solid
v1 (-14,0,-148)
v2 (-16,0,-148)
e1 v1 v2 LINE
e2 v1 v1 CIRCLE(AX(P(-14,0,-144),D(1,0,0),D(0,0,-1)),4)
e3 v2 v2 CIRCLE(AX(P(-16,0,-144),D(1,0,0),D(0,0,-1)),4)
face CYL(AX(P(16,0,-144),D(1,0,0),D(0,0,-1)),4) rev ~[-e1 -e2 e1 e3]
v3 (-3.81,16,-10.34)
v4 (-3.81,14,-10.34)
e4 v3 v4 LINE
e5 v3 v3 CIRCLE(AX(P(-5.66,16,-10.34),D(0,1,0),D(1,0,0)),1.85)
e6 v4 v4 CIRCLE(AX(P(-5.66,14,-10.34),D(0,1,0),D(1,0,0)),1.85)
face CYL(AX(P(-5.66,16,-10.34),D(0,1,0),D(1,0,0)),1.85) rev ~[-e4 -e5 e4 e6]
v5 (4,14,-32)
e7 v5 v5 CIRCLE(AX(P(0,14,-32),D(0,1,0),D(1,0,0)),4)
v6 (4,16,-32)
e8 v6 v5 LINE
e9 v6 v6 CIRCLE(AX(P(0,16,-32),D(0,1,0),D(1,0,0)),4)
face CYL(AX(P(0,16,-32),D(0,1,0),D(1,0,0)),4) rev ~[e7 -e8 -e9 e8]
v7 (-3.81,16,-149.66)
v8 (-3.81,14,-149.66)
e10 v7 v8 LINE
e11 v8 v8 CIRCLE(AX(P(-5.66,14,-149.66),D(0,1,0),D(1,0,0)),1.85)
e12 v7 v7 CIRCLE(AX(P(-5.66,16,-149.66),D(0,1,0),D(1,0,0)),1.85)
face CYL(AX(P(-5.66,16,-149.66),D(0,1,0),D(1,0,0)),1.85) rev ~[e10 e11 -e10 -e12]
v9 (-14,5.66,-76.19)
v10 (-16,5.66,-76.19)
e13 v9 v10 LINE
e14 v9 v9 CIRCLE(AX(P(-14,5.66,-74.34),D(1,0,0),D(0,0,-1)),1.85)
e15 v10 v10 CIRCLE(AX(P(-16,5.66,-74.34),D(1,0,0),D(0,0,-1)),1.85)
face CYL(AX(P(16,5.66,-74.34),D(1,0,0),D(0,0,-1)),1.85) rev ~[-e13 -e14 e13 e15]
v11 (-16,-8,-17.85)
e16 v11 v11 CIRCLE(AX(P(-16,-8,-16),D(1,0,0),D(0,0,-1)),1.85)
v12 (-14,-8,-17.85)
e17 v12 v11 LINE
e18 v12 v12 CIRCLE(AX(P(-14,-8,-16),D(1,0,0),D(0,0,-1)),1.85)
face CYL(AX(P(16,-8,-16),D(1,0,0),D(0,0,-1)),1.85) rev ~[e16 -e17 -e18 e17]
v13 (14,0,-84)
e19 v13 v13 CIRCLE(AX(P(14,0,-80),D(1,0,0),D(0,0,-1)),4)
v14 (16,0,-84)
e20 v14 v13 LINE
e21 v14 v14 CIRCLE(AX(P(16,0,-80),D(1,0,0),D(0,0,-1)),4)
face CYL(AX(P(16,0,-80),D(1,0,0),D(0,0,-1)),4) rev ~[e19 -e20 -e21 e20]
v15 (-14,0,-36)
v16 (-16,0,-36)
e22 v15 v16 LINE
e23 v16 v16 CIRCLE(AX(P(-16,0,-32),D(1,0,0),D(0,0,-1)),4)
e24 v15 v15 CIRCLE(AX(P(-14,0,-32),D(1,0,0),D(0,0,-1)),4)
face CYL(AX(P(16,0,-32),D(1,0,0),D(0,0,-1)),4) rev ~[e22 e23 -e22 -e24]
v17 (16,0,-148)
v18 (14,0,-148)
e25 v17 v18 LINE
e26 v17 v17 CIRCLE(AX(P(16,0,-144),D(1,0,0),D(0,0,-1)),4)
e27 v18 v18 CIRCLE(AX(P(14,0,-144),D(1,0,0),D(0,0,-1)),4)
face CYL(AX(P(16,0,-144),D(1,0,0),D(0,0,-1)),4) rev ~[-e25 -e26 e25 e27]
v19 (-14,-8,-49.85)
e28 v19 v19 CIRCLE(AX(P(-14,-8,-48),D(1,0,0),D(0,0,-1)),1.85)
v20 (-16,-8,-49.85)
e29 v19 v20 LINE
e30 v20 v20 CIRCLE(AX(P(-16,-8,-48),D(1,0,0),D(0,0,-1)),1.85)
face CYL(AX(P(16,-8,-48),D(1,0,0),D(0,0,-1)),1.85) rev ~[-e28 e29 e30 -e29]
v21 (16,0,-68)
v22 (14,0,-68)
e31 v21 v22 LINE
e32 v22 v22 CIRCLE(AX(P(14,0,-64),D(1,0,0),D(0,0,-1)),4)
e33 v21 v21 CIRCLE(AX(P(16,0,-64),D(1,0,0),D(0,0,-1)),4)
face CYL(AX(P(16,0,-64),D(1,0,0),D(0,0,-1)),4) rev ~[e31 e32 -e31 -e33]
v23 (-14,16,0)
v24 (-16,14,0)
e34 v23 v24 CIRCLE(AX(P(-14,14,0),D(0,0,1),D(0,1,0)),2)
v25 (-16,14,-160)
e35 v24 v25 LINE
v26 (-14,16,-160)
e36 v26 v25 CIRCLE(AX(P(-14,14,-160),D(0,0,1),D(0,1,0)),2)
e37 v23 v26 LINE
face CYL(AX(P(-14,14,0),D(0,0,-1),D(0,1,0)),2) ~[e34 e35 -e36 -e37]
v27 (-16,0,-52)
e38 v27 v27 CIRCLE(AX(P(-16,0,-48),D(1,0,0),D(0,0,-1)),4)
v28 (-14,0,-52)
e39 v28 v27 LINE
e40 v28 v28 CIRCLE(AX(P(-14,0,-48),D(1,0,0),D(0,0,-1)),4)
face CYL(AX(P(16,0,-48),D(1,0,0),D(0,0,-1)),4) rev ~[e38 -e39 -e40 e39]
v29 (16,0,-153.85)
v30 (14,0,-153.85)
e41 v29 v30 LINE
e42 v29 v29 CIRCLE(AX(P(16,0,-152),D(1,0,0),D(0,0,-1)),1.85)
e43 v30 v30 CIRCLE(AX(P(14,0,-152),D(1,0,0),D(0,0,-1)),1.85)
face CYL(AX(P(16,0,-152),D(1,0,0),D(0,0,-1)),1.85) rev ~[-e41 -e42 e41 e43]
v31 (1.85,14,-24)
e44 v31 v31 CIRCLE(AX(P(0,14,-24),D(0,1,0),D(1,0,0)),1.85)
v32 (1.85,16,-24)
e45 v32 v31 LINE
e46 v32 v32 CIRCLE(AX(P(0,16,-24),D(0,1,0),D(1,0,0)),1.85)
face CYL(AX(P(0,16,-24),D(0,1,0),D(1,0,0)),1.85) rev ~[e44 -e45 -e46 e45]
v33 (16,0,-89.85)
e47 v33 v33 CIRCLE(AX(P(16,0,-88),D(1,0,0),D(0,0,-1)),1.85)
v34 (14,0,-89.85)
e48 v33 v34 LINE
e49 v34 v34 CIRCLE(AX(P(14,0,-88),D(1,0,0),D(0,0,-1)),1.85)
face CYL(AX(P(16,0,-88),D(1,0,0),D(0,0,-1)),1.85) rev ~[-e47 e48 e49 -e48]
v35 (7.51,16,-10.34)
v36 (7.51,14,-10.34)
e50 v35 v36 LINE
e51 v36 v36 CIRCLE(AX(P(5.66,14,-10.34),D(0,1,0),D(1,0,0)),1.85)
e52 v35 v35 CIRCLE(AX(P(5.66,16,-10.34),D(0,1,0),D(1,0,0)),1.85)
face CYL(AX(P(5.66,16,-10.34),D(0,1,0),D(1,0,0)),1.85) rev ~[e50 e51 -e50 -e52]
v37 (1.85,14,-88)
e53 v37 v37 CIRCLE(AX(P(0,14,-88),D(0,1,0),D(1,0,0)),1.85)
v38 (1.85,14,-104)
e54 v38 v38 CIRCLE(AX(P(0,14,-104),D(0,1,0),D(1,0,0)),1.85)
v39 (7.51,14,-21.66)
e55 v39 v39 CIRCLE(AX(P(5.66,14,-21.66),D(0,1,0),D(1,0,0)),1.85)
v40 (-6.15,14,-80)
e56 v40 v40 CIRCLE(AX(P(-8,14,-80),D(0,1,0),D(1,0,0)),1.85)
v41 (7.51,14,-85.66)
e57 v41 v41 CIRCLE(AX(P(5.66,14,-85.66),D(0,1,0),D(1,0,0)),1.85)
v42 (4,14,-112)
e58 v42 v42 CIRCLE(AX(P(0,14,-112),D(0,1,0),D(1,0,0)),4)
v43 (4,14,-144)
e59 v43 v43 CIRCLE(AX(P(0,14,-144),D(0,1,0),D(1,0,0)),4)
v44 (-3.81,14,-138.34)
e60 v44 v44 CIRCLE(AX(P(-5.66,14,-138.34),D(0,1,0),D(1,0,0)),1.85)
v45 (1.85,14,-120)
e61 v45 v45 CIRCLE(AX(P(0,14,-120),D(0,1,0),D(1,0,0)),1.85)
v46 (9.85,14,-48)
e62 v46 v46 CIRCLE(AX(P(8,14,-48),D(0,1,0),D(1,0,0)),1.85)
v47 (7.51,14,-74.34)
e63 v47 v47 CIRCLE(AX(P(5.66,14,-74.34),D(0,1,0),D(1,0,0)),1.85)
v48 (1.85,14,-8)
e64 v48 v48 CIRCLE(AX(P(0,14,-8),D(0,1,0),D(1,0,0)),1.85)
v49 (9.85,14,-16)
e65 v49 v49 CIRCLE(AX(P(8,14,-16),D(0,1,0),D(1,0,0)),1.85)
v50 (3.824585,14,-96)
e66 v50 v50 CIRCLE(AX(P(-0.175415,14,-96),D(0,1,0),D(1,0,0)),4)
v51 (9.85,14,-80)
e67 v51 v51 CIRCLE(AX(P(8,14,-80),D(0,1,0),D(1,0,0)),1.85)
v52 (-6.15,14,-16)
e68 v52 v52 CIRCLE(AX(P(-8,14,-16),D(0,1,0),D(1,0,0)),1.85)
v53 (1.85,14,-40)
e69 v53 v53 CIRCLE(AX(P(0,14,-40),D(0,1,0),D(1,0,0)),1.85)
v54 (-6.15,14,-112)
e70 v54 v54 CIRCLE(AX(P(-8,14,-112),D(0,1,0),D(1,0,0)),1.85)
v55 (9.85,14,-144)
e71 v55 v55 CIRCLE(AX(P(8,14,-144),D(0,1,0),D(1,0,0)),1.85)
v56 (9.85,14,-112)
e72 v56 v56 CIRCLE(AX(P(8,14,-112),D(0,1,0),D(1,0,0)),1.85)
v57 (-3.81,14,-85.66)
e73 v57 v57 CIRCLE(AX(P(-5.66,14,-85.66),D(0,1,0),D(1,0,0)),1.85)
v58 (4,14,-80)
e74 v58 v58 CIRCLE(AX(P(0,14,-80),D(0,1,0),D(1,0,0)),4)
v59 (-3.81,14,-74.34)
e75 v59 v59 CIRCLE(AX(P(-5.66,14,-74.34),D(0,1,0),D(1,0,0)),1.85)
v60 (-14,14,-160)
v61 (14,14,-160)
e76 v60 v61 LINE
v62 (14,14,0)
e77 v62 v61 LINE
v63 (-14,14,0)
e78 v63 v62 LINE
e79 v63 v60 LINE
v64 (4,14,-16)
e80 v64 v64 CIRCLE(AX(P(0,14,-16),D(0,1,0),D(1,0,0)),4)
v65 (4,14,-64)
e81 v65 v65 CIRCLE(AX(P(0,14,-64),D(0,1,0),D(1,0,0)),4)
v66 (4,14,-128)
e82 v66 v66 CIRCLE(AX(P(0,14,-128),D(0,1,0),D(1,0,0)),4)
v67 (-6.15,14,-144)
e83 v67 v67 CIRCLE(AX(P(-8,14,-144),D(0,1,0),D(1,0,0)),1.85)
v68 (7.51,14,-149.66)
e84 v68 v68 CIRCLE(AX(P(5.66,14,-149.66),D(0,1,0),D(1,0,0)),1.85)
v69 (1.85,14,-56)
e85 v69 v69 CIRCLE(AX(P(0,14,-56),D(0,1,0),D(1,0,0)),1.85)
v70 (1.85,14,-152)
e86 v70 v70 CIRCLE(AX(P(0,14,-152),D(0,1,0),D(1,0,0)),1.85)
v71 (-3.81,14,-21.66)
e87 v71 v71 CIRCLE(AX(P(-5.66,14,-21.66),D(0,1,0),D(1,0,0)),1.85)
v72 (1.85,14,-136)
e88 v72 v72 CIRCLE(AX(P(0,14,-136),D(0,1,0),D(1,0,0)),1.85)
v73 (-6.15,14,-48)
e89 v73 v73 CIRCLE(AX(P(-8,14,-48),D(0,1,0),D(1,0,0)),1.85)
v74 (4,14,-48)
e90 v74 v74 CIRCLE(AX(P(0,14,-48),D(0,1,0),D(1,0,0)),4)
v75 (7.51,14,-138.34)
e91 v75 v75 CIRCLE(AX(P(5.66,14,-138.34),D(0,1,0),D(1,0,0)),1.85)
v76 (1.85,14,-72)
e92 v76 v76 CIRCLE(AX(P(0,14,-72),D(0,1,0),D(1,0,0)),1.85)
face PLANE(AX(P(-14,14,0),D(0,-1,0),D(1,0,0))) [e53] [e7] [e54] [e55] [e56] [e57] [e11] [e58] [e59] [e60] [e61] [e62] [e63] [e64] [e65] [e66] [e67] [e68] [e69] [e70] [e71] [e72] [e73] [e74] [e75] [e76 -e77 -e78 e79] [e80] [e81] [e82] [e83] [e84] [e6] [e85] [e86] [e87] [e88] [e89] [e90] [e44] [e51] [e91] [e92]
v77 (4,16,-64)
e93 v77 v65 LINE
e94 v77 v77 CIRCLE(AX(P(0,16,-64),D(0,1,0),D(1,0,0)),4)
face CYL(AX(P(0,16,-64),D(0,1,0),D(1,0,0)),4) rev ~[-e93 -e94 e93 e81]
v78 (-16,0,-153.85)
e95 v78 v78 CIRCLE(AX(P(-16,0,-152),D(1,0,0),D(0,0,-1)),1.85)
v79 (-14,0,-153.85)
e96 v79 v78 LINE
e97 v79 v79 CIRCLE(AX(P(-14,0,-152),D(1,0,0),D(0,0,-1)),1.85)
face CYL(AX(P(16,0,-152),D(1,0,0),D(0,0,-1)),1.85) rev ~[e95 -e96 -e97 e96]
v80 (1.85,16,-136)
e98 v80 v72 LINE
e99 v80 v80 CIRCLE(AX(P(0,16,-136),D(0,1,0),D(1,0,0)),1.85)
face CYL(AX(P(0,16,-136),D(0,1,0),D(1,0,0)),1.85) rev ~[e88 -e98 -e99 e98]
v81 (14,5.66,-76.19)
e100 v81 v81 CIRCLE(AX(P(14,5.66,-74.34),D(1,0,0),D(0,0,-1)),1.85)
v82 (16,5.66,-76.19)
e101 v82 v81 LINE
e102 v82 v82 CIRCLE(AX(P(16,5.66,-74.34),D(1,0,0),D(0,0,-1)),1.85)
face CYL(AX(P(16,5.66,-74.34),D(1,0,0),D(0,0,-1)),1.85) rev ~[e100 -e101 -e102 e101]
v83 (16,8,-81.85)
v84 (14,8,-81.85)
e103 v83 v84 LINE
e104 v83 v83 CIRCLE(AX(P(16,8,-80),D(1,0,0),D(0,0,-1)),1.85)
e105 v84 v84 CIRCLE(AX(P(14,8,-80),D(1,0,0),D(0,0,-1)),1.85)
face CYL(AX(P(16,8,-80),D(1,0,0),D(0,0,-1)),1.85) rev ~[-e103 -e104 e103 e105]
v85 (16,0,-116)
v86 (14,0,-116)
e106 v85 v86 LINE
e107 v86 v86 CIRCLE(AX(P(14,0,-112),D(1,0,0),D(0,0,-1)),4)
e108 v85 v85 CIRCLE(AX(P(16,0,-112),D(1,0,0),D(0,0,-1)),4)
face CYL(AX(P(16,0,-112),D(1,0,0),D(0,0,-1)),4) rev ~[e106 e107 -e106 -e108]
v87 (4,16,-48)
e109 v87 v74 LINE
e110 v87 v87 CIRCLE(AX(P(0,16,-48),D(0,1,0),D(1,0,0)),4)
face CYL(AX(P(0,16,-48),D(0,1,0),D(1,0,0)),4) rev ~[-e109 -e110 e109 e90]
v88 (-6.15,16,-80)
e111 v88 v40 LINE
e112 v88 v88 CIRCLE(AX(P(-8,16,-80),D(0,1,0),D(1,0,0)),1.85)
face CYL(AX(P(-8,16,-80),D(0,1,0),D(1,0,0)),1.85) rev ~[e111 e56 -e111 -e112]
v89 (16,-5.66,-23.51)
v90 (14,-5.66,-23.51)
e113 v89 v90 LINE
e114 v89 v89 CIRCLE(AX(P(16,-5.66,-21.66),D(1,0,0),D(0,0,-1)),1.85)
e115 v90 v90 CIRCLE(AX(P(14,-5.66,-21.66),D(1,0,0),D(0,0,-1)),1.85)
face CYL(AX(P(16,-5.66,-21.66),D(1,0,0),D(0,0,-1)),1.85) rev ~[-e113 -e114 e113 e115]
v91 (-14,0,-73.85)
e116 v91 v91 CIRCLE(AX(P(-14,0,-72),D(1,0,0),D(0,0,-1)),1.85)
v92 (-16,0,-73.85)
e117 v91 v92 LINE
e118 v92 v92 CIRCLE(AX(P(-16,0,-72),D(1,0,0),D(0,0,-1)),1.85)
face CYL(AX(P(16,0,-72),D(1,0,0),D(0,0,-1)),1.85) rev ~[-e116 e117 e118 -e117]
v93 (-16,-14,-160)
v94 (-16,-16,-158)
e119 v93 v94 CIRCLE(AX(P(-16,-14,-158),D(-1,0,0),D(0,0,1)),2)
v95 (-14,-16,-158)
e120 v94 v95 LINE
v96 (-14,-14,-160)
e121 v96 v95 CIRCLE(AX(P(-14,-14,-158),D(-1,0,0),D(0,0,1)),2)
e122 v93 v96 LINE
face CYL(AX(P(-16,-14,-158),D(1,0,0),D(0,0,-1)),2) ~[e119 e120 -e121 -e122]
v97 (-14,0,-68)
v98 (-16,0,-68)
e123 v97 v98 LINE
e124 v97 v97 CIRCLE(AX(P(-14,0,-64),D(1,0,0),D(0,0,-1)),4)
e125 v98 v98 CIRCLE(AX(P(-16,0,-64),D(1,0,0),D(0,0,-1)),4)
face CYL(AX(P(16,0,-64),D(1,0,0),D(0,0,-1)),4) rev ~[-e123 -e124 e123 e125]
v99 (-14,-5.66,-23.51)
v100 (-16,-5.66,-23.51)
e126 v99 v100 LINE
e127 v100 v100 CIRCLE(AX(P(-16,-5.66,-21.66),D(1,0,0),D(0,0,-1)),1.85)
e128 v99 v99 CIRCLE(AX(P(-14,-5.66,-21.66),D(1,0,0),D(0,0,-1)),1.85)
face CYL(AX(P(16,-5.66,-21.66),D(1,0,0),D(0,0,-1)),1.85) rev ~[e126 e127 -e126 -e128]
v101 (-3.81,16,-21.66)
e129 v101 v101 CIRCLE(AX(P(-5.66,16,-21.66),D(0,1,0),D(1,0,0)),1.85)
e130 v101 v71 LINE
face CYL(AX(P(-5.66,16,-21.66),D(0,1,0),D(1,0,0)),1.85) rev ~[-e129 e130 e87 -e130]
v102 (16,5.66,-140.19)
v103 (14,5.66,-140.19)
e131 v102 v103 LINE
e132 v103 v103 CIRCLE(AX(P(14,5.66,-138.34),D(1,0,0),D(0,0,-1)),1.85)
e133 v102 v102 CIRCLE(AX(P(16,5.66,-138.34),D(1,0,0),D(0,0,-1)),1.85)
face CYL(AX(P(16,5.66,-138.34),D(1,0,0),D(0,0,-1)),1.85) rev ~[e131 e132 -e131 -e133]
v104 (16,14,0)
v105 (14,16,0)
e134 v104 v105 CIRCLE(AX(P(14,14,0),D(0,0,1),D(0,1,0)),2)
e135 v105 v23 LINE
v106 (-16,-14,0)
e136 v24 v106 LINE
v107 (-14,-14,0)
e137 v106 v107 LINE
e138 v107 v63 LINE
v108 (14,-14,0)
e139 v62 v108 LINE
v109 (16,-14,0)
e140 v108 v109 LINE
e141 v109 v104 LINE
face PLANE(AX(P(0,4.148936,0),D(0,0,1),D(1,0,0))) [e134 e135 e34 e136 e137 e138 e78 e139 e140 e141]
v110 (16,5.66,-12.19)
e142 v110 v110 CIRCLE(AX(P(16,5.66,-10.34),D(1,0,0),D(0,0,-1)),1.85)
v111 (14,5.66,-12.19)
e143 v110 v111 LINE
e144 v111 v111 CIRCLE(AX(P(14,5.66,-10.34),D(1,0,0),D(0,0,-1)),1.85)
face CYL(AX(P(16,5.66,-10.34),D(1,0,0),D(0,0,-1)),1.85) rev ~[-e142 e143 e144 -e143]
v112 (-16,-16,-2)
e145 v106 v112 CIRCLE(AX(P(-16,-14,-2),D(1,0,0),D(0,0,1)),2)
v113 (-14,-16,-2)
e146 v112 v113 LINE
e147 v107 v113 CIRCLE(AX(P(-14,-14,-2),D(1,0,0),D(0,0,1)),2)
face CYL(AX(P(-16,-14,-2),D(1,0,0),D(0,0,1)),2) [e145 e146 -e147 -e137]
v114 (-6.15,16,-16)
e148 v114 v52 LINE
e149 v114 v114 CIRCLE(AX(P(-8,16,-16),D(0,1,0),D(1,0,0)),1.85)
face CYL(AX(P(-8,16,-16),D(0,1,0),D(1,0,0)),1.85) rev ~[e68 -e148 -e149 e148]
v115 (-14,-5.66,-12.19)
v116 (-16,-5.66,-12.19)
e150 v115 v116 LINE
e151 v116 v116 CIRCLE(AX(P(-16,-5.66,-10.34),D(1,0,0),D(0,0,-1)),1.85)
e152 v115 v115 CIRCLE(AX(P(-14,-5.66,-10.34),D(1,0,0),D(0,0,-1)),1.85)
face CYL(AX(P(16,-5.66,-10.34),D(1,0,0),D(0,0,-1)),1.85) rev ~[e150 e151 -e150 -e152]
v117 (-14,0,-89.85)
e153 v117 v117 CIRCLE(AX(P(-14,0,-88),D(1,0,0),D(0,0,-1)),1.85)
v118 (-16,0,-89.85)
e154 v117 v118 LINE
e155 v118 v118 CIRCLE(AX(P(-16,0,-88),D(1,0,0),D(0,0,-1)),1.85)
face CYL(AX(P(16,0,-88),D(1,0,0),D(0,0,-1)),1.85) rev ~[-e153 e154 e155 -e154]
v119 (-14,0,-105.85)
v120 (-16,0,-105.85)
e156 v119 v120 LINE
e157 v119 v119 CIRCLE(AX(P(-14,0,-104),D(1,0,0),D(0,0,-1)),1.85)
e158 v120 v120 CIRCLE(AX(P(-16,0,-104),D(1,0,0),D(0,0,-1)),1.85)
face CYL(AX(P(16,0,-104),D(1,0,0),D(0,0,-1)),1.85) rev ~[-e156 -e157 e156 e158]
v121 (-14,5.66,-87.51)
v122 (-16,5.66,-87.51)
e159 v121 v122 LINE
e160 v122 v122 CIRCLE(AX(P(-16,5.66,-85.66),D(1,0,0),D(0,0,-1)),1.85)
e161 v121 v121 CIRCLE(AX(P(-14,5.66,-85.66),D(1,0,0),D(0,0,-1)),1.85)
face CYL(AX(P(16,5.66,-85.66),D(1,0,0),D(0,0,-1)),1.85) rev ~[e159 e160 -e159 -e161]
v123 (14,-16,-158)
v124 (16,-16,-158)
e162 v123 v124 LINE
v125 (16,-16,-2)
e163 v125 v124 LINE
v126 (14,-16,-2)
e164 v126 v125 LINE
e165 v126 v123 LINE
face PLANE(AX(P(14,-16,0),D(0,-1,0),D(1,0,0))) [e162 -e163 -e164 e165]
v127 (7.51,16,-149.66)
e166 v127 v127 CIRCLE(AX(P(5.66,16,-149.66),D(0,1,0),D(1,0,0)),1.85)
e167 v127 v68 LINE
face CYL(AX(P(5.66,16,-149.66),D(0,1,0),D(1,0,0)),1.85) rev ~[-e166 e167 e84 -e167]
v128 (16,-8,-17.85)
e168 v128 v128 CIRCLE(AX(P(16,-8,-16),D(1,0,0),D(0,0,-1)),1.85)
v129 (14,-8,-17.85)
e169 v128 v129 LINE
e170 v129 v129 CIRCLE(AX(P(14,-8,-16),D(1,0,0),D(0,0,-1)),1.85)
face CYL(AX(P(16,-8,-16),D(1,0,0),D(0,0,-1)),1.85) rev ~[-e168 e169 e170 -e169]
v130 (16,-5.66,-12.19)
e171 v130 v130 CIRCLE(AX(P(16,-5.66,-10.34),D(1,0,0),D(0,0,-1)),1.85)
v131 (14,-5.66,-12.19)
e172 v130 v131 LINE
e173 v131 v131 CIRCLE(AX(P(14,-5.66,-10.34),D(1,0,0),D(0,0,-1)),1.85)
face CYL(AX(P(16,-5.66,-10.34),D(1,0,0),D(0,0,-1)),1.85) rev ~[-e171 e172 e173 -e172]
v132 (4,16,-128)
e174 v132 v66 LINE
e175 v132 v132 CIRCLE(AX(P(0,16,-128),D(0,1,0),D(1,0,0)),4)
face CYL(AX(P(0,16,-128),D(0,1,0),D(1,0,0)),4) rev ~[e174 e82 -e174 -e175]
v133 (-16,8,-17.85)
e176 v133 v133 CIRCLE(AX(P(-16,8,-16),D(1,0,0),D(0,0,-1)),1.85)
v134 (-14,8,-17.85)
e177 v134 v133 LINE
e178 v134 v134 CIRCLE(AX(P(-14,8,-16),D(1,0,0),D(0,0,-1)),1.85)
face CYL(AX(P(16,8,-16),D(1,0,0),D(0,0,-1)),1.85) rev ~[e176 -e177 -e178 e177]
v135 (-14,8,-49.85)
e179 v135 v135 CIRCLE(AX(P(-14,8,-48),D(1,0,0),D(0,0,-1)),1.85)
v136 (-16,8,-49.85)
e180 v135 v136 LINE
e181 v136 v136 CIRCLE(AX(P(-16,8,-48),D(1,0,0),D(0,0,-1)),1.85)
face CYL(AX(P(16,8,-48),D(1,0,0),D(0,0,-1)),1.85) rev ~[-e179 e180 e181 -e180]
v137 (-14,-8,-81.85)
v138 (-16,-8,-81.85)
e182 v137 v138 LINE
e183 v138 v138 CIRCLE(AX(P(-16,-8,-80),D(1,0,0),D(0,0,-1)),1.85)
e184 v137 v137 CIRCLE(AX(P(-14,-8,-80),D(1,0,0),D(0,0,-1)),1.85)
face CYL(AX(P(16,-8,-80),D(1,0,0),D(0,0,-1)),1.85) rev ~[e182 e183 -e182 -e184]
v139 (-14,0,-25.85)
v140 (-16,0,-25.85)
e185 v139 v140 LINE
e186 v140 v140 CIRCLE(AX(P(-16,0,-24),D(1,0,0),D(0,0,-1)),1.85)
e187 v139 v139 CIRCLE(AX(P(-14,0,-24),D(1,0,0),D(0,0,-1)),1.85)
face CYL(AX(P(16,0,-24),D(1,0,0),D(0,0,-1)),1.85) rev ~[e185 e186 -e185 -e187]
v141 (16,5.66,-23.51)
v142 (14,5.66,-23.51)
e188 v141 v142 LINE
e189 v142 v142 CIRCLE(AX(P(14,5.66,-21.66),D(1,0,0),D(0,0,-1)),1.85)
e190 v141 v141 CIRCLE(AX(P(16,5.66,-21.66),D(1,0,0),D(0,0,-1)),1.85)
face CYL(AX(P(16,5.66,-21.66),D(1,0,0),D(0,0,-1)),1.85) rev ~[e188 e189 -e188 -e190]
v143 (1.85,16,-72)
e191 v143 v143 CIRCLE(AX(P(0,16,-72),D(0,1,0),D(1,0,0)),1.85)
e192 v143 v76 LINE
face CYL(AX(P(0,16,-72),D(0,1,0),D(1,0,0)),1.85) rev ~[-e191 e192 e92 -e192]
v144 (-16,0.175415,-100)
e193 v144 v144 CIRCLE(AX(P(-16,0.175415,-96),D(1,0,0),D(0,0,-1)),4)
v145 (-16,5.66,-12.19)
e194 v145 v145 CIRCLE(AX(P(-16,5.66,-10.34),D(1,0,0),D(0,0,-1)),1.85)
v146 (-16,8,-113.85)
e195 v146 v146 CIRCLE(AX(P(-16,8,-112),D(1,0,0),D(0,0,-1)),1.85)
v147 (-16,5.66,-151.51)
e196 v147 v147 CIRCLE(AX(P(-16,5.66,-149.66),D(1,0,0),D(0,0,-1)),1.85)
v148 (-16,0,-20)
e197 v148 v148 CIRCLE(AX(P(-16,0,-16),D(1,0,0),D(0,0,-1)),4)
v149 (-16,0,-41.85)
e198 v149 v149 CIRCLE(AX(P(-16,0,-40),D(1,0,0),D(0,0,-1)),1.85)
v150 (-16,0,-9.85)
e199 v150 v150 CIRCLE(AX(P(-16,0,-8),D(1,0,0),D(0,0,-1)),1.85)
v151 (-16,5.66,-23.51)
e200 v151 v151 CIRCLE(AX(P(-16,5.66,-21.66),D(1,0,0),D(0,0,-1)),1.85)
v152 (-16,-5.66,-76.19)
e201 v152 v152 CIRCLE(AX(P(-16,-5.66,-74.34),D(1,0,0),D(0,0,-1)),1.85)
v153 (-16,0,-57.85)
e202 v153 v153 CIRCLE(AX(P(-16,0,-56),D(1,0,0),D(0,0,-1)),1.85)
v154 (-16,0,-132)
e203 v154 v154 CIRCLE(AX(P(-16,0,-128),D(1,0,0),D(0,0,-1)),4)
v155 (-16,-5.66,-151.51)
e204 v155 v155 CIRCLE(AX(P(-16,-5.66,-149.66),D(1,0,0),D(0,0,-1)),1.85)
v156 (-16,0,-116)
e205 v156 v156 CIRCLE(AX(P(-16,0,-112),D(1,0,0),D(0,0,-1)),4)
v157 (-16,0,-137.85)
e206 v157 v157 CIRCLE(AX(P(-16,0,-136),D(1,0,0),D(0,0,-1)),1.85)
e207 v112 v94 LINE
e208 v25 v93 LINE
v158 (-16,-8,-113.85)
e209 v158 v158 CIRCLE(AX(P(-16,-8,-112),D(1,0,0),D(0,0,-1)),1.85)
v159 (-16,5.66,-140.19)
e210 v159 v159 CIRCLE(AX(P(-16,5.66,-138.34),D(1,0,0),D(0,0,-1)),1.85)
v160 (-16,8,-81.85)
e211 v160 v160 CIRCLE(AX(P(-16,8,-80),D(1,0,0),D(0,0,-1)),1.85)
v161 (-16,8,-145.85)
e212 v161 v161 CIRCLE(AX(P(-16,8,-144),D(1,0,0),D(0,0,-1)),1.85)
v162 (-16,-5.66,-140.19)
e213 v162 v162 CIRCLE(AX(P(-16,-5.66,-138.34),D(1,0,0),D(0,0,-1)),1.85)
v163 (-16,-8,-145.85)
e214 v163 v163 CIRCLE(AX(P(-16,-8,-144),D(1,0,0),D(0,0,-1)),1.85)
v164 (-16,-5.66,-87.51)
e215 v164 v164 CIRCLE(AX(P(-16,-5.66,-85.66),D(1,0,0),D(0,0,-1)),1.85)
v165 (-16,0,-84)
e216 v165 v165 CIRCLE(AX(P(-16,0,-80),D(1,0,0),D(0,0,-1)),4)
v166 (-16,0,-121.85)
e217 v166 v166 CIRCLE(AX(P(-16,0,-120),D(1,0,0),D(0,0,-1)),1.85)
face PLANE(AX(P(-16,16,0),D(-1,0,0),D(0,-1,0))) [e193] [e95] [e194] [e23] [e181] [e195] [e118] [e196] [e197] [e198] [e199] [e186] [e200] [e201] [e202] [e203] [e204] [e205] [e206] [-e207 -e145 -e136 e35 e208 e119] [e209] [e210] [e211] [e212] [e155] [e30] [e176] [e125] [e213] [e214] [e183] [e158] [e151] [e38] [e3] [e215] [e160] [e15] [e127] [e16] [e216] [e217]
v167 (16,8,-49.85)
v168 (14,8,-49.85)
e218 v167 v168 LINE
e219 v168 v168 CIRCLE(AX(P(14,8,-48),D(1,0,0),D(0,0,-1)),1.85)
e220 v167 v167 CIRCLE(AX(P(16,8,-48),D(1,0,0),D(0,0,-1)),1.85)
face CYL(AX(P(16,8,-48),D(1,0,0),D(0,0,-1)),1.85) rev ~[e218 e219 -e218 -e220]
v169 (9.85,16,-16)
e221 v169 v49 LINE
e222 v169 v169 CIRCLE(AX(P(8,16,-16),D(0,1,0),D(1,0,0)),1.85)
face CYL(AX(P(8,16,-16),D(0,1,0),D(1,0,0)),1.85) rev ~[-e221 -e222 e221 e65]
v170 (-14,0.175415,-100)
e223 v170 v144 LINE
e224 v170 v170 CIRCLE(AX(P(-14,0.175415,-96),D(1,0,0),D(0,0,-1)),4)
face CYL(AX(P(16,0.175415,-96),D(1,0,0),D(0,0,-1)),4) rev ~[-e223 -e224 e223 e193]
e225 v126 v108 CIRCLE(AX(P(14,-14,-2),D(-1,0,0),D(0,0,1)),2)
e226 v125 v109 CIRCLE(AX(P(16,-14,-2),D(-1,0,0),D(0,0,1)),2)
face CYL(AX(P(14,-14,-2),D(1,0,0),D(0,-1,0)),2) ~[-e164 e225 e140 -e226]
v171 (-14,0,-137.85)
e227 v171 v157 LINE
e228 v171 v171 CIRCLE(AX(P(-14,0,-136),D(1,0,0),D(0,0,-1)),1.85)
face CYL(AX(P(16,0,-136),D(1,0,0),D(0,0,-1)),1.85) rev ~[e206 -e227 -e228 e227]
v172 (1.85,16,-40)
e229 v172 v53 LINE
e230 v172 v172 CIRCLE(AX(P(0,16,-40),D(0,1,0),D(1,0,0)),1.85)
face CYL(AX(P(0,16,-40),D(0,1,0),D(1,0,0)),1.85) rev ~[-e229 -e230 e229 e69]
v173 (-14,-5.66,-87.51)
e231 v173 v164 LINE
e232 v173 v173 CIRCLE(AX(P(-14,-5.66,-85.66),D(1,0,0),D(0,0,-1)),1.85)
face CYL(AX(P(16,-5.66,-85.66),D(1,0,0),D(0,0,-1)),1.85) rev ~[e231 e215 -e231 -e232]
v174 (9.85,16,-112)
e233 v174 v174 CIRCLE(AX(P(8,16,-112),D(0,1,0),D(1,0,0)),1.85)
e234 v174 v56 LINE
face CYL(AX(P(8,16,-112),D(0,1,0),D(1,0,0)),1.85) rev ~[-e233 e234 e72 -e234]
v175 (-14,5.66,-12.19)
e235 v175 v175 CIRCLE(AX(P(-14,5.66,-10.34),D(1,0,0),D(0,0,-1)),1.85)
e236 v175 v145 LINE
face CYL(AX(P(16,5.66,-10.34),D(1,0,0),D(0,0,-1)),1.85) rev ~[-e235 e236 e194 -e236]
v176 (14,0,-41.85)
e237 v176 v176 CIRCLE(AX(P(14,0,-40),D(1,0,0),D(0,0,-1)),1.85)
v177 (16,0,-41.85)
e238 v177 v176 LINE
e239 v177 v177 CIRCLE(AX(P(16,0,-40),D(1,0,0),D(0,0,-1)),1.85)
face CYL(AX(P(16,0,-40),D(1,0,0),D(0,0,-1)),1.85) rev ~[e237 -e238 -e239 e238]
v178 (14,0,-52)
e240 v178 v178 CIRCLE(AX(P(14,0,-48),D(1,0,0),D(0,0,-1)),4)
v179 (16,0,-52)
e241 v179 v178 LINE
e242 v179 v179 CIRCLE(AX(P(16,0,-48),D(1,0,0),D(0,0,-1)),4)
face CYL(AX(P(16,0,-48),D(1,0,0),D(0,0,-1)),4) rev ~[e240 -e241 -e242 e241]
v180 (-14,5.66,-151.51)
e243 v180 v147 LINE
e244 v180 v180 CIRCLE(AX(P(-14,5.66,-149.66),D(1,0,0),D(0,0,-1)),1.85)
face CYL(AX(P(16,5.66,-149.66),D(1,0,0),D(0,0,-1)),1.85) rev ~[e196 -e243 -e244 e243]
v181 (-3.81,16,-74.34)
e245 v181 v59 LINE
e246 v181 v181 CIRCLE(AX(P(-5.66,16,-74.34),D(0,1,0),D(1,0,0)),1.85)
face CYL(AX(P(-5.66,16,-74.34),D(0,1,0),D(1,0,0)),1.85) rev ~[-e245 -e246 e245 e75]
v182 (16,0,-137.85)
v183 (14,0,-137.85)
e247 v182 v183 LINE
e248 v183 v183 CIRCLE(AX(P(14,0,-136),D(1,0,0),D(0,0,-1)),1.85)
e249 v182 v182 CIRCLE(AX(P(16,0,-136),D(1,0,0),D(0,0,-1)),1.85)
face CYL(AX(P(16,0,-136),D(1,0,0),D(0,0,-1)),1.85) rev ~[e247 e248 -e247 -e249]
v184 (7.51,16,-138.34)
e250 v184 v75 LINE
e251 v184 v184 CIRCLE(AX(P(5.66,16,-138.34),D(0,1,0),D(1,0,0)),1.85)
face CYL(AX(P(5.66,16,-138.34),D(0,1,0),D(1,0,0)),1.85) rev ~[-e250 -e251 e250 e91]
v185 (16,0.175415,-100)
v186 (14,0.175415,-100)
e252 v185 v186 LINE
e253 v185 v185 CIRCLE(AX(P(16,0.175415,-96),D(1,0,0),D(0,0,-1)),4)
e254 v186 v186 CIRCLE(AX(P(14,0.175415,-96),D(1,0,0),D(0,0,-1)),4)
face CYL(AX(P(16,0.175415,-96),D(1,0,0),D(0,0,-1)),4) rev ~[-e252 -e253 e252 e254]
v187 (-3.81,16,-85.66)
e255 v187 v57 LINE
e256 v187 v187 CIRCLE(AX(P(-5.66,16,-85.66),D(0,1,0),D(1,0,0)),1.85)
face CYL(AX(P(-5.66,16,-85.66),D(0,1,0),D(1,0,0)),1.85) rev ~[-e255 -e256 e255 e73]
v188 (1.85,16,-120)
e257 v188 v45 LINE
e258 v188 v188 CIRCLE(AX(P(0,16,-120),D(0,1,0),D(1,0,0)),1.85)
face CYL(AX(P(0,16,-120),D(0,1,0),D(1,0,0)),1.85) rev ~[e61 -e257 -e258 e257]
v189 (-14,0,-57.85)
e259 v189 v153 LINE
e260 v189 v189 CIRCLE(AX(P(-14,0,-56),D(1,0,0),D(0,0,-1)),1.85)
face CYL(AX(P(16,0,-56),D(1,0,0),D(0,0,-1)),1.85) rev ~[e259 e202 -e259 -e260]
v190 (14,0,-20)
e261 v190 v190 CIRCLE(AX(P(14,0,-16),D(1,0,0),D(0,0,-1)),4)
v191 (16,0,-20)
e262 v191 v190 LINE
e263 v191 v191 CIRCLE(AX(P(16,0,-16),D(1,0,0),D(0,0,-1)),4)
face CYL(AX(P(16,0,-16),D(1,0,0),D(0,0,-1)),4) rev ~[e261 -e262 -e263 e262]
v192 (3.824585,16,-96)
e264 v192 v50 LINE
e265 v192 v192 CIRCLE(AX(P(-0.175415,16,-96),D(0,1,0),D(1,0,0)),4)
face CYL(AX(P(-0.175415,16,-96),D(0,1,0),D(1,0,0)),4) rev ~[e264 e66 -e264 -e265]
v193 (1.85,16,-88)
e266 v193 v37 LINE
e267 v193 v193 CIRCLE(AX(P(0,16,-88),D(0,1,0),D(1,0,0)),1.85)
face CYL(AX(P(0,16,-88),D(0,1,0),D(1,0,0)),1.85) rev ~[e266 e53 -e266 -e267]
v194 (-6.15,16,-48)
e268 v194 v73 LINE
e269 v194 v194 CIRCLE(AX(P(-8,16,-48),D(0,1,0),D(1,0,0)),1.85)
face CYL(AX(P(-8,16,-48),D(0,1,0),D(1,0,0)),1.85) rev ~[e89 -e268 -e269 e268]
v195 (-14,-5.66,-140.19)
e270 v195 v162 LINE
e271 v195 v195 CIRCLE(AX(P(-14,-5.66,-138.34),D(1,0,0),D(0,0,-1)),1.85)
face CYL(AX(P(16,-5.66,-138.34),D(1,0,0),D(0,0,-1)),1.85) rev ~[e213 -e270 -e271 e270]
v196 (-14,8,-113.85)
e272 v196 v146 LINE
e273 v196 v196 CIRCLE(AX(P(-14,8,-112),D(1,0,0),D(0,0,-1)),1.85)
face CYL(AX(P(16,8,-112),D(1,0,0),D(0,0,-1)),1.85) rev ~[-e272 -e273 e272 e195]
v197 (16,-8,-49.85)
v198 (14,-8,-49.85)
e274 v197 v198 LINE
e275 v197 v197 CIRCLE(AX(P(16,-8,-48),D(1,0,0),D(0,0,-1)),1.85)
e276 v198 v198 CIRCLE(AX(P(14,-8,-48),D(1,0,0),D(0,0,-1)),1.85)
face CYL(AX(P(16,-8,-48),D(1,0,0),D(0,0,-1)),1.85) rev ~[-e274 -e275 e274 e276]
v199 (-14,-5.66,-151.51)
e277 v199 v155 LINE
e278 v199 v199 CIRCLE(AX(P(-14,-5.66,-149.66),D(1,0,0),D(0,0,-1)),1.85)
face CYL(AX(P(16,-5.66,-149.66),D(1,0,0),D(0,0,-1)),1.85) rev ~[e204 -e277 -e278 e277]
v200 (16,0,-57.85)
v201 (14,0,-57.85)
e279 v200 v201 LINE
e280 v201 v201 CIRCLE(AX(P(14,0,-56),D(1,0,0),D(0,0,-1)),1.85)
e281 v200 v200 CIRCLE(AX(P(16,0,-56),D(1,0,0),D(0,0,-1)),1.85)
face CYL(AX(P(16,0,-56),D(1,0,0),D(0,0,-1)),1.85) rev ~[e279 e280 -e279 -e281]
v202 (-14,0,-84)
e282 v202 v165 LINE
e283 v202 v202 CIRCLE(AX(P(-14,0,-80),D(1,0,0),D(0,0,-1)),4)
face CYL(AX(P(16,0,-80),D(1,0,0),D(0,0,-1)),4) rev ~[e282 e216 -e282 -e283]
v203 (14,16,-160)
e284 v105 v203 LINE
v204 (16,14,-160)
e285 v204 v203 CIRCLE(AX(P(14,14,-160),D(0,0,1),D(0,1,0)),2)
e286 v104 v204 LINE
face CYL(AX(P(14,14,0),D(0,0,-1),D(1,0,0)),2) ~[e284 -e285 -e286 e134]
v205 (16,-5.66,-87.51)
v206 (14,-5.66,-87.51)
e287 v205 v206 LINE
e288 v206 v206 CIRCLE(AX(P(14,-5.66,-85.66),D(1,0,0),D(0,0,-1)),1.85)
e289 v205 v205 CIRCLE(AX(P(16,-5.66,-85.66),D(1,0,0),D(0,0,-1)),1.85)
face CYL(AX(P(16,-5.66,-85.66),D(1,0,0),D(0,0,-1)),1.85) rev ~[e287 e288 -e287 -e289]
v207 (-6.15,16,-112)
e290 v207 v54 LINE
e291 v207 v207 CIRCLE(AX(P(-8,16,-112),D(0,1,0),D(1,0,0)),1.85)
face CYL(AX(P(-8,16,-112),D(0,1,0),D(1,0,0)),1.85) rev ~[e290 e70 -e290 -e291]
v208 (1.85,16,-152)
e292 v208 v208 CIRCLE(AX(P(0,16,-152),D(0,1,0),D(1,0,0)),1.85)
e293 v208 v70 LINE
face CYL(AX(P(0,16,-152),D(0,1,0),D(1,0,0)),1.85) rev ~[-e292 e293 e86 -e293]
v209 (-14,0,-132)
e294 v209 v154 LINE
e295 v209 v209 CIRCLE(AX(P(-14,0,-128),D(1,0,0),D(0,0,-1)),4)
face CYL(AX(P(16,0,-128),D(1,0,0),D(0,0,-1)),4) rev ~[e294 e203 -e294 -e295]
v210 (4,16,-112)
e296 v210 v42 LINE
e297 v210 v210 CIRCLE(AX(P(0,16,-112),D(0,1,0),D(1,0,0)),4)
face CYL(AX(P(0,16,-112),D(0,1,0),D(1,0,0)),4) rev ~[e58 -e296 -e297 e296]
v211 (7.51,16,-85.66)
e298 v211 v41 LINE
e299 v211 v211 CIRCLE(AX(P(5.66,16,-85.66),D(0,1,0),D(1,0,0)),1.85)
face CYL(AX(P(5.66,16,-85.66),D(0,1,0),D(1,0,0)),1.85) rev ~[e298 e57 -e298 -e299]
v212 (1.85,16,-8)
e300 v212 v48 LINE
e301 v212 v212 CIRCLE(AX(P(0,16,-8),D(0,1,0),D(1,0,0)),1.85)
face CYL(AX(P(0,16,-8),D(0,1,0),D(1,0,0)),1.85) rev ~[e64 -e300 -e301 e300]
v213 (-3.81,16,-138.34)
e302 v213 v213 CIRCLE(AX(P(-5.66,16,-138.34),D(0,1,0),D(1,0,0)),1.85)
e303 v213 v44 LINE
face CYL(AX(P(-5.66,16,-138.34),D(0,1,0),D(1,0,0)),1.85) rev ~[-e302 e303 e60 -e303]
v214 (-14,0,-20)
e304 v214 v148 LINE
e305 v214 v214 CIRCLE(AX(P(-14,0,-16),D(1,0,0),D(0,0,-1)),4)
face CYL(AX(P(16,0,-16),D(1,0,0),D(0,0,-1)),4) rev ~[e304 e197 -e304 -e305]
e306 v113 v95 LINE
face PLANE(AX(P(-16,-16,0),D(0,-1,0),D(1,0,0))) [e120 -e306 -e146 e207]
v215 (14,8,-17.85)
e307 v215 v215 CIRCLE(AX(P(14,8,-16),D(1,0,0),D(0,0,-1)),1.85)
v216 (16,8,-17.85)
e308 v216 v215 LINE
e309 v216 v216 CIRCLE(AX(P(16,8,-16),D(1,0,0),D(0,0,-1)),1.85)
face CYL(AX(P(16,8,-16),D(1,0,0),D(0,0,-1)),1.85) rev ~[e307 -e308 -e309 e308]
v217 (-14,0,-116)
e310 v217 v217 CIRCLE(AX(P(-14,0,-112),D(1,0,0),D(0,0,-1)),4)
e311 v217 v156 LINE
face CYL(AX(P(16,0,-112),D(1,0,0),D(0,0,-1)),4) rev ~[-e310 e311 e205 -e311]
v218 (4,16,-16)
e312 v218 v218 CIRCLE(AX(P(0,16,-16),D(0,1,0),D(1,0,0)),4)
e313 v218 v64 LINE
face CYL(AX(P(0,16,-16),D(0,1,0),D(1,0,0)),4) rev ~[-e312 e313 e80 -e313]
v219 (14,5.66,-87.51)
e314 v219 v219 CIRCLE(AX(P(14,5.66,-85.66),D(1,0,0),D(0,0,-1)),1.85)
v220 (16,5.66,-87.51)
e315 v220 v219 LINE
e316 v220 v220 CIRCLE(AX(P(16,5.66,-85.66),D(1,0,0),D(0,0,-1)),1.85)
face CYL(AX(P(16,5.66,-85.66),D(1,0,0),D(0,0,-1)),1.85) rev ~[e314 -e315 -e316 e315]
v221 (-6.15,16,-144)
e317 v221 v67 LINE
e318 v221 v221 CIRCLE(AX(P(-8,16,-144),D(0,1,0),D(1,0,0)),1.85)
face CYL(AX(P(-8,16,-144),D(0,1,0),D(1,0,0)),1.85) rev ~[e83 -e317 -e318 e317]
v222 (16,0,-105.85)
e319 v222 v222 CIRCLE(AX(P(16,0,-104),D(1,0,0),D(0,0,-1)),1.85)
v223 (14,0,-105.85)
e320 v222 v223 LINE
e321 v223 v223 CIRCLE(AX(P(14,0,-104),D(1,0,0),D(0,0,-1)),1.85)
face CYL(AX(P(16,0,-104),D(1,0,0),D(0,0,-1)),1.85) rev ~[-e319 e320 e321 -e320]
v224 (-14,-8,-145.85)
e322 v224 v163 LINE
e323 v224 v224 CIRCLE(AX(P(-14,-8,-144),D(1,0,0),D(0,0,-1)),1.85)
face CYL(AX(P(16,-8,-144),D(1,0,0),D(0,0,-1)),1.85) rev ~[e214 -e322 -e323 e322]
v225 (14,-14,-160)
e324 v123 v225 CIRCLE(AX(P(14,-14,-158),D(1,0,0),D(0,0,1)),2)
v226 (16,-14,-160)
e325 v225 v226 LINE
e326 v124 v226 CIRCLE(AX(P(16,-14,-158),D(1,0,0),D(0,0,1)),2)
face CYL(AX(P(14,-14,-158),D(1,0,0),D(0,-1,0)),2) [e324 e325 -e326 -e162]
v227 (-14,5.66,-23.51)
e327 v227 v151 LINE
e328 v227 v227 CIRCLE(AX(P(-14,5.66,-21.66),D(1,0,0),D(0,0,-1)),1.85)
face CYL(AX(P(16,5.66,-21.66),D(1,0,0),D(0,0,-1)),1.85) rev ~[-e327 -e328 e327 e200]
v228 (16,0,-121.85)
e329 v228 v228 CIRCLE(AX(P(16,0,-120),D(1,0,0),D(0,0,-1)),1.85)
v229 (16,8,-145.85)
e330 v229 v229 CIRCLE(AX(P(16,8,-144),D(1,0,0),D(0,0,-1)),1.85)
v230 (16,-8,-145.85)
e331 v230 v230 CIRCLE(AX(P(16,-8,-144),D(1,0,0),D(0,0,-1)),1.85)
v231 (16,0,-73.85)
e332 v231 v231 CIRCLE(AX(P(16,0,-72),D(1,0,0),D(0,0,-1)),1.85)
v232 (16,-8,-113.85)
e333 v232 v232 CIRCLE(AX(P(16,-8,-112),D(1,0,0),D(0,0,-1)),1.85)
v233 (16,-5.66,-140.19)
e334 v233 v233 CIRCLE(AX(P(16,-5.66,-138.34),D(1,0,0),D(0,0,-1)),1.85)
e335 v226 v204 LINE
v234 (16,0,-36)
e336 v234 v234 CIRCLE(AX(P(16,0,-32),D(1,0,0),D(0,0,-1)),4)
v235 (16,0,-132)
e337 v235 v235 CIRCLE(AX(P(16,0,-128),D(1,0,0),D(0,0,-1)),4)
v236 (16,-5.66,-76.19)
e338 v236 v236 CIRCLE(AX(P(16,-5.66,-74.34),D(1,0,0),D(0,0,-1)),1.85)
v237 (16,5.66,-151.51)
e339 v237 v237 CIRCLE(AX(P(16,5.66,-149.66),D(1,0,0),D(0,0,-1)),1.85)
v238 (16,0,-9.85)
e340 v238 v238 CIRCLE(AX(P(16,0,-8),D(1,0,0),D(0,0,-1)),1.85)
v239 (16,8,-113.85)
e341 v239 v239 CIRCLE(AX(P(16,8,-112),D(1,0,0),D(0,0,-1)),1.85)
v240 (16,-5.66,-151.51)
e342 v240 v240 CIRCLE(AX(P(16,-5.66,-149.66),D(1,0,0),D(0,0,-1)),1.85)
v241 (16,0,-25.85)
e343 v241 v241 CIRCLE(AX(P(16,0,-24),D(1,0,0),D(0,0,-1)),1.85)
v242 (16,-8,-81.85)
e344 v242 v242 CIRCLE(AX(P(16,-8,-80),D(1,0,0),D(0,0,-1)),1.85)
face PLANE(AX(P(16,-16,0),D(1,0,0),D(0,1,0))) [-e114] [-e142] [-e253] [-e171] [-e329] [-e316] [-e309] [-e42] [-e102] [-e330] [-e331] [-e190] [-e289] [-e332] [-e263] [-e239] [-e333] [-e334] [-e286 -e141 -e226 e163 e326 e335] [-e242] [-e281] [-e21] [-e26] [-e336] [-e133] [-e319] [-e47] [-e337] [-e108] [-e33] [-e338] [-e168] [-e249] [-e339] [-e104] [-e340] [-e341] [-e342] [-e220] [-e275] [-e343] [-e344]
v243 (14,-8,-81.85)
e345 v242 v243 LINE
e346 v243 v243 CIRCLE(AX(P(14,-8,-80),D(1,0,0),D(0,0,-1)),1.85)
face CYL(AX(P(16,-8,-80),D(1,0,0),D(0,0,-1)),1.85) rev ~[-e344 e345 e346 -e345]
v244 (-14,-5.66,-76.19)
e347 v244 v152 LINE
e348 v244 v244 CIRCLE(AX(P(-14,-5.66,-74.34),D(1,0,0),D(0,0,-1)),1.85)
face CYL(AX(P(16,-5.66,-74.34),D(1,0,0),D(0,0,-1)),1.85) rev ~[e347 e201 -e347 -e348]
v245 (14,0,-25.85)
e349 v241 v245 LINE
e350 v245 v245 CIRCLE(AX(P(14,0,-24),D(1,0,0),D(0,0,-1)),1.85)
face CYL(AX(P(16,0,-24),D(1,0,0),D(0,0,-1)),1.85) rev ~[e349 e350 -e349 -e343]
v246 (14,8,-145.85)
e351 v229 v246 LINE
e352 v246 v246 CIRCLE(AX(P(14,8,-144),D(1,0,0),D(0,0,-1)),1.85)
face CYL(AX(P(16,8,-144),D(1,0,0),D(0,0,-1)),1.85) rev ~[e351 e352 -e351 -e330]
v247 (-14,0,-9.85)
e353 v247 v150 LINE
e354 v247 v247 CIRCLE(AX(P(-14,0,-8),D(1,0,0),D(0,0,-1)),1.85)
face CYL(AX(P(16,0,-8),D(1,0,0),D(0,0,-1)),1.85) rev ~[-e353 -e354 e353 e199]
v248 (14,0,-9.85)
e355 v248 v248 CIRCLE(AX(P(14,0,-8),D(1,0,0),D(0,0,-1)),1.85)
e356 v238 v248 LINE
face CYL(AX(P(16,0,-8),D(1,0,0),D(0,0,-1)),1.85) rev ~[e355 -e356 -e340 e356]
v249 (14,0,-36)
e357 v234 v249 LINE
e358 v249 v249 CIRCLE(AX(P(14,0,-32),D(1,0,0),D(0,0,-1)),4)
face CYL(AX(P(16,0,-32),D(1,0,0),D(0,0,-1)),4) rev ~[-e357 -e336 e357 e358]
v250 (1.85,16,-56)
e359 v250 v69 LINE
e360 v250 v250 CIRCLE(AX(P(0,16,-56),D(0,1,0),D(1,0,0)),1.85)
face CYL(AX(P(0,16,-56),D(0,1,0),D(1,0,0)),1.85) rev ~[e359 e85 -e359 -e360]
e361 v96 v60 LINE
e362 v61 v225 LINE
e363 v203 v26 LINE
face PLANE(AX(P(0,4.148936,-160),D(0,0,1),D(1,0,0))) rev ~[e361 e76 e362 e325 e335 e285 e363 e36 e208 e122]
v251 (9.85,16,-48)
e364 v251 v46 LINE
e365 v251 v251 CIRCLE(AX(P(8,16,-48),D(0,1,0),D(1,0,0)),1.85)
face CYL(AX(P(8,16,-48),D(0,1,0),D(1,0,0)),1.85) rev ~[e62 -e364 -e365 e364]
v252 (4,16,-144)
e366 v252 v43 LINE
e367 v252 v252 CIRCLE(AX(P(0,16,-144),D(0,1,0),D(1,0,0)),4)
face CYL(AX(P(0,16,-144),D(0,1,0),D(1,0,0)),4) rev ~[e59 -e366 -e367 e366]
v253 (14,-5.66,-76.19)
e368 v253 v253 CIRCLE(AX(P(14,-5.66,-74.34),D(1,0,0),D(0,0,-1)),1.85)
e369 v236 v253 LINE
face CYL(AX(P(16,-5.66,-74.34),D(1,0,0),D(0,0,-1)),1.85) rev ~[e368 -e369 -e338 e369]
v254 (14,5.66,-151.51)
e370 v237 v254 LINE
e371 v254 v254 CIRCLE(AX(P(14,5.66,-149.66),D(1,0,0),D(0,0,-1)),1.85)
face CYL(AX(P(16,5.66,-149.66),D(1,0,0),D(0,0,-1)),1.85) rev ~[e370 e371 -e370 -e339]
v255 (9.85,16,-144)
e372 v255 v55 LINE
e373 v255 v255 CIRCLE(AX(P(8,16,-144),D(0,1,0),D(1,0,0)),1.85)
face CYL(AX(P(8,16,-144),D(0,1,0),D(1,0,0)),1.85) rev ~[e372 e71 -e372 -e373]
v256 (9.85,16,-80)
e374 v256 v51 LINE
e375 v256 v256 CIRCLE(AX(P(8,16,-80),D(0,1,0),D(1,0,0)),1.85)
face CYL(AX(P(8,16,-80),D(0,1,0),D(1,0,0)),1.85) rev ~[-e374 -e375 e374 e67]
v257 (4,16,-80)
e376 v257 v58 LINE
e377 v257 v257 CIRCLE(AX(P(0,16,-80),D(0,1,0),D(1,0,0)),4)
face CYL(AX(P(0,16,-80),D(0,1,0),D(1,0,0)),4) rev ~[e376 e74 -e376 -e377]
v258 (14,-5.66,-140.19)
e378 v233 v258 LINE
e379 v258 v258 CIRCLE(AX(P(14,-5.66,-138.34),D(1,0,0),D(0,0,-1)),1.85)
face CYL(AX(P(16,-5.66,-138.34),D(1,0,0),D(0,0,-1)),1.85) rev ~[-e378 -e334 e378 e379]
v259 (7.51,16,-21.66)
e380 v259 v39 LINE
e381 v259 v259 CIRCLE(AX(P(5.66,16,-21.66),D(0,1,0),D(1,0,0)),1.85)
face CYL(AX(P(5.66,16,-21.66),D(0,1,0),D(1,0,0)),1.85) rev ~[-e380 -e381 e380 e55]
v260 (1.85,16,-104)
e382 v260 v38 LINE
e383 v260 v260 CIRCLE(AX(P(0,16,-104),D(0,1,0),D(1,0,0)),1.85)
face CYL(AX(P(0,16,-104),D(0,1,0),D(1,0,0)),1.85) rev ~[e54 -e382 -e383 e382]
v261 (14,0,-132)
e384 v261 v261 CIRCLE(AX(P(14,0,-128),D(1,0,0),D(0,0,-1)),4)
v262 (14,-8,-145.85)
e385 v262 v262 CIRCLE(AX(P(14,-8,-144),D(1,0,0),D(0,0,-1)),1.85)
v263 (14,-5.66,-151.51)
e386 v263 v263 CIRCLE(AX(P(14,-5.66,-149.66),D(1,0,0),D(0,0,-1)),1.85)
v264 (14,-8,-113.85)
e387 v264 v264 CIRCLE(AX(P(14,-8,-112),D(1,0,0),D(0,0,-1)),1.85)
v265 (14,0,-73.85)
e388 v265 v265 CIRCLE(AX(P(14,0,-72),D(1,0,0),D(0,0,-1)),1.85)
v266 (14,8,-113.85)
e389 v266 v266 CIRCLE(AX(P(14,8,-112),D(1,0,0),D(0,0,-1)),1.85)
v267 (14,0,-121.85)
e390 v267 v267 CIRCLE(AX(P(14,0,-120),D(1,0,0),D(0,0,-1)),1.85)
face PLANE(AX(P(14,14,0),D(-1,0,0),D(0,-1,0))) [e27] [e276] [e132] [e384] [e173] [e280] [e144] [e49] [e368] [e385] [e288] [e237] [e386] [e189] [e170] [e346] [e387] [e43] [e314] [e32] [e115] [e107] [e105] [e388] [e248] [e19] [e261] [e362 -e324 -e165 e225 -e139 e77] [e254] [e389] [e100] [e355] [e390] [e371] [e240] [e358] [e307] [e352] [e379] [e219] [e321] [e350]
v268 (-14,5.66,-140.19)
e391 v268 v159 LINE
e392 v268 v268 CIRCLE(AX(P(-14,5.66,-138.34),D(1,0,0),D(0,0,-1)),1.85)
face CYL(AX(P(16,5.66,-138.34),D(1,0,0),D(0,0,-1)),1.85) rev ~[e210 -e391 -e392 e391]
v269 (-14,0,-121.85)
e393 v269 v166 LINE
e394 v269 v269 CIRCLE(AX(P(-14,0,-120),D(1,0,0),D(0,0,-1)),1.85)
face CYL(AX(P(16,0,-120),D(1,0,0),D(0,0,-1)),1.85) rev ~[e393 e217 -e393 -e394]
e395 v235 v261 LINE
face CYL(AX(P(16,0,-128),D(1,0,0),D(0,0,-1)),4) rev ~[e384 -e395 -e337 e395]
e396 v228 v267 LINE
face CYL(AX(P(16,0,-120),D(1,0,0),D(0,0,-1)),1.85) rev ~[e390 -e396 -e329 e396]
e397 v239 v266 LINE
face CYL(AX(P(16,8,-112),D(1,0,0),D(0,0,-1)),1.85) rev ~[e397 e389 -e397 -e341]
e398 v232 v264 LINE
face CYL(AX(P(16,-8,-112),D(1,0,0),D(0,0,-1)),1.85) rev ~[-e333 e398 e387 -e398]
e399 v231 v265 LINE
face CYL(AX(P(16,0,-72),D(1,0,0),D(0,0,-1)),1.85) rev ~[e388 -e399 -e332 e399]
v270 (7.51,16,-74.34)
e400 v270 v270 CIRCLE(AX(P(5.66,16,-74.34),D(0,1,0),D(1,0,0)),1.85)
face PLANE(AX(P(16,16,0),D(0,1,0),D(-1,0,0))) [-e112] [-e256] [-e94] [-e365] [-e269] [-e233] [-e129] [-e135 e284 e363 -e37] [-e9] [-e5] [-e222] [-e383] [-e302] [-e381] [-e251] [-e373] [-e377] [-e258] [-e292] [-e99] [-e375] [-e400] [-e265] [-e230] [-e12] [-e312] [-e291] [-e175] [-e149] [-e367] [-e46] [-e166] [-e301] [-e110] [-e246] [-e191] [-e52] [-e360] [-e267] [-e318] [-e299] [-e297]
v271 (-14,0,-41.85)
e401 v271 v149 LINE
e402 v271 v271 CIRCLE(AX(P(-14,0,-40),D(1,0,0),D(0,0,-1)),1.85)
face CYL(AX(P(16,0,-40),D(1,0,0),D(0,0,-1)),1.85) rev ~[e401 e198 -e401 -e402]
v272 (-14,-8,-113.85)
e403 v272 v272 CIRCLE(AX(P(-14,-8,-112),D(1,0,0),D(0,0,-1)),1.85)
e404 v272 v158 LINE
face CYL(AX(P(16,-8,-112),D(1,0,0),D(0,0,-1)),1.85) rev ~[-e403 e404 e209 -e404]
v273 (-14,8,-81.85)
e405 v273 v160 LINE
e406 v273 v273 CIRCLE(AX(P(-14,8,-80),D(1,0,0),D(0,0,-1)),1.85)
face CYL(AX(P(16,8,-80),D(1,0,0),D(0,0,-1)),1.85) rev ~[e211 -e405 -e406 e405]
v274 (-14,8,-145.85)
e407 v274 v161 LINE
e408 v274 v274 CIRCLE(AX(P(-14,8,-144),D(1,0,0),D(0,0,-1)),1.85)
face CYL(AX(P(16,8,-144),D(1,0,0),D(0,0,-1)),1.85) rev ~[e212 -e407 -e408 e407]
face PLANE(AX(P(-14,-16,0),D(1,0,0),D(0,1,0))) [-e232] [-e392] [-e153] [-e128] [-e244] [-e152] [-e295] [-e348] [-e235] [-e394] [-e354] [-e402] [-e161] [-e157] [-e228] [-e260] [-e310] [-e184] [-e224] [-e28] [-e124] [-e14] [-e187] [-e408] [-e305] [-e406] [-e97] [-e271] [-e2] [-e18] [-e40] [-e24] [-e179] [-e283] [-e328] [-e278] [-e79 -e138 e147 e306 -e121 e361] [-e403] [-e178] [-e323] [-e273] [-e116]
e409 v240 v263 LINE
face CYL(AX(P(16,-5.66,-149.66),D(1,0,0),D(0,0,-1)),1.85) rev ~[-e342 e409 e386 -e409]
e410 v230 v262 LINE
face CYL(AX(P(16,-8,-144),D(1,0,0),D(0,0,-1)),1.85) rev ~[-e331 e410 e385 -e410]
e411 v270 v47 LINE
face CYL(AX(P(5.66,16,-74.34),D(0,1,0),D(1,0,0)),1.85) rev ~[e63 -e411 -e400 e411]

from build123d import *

# Parameters (mm, degrees)
BOSS_EXTRUDE1_DEPTH = 160
SKETCH2_R           = 4
SKETCH2_R_2         = 1.85
CUT_EXTRUDE1_DEPTH  = 33
SKETCH3_R           = 4
SKETCH3_R_2         = 1.85
CUT_EXTRUDE2_DEPTH  = 33
FILLET1_R           = 2


with BuildPart() as part:
    # Sketch1 → Boss-Extrude1 (new body)
    with BuildSketch(Plane.XY):
        Polygon((14, -16), (16, -16), (16, 16), (-16, 16), (-16, -16), (-14, -16), (-14, 14), (14, 14), align=None)
    extrude(amount=-BOSS_EXTRUDE1_DEPTH)

    # Sketch2 → Cut-Extrude1 (cut, through all)
    with BuildSketch(Plane(origin=(0, 16, 0), x_dir=(1, 0, 0), z_dir=(0, 1, 0))):
        with Locations((0, 32)):
            Circle(SKETCH2_R)
        with Locations((0, 64)):
            Circle(SKETCH2_R)
        with Locations((-0.175415159, 96)):
            Circle(SKETCH2_R)
        with Locations((0, 128)):
            Circle(SKETCH2_R)
        with Locations((0, 48)):
            Circle(SKETCH2_R)
        with Locations((0, 56)):
            Circle(SKETCH2_R_2)
        with Locations((0, 40)):
            Circle(SKETCH2_R_2)
        with Locations((8, 48)):
            Circle(SKETCH2_R_2)
        with Locations((-8, 48)):
            Circle(SKETCH2_R_2)
        with Locations((0, 24)):
            Circle(SKETCH2_R_2)
        with Locations((8, 16)):
            Circle(SKETCH2_R_2)
        with Locations((0, 16)):
            Circle(SKETCH2_R)
        with Locations((-8, 16)):
            Circle(SKETCH2_R_2)
        with Locations((-5.66, 10.34)):
            Circle(SKETCH2_R_2)
        with Locations((5.66, 10.34)):
            Circle(SKETCH2_R_2)
        with Locations((0, 8)):
            Circle(SKETCH2_R_2)
        with Locations((-5.66, 21.66)):
            Circle(SKETCH2_R_2)
        with Locations((5.66, 21.66)):
            Circle(SKETCH2_R_2)
        with Locations((0, 112)):
            Circle(SKETCH2_R)
        with Locations((0, 120)):
            Circle(SKETCH2_R_2)
        with Locations((0, 104)):
            Circle(SKETCH2_R_2)
        with Locations((8, 112)):
            Circle(SKETCH2_R_2)
        with Locations((-8, 112)):
            Circle(SKETCH2_R_2)
        with Locations((0, 88)):
            Circle(SKETCH2_R_2)
        with Locations((8, 80)):
            Circle(SKETCH2_R_2)
        with Locations((0, 80)):
            Circle(SKETCH2_R)
        with Locations((-8, 80)):
            Circle(SKETCH2_R_2)
        with Locations((-5.66, 74.34)):
            Circle(SKETCH2_R_2)
        with Locations((5.66, 74.34)):
            Circle(SKETCH2_R_2)
        with Locations((0, 72)):
            Circle(SKETCH2_R_2)
        with Locations((-5.66, 85.66)):
            Circle(SKETCH2_R_2)
        with Locations((5.66, 85.66)):
            Circle(SKETCH2_R_2)
        with Locations((0, 136)):
            Circle(SKETCH2_R_2)
        with Locations((-8, 144)):
            Circle(SKETCH2_R_2)
        with Locations((0, 144)):
            Circle(SKETCH2_R)
        with Locations((8, 144)):
            Circle(SKETCH2_R_2)
        with Locations((5.66, 149.66)):
            Circle(SKETCH2_R_2)
        with Locations((-5.66, 149.66)):
            Circle(SKETCH2_R_2)
        with Locations((0, 152)):
            Circle(SKETCH2_R_2)
        with Locations((5.66, 138.34)):
            Circle(SKETCH2_R_2)
        with Locations((-5.66, 138.34)):
            Circle(SKETCH2_R_2)
    extrude(amount=-CUT_EXTRUDE1_DEPTH, mode=Mode.SUBTRACT)

    # Sketch3 → Cut-Extrude2 (cut, through all)
    with BuildSketch(Plane(origin=(16, 0, 0), x_dir=(0, 0, -1), z_dir=(1, 0, 0))):
        with Locations((32, 0)):
            Circle(SKETCH3_R)
        with Locations((64, 0)):
            Circle(SKETCH3_R)
        with Locations((96, 0.175415159)):
            Circle(SKETCH3_R)
        with Locations((128, 0)):
            Circle(SKETCH3_R)
        with Locations((48, 0)):
            Circle(SKETCH3_R)
        with Locations((56, 0)):
            Circle(SKETCH3_R_2)
        with Locations((40, 0)):
            Circle(SKETCH3_R_2)
        with Locations((48, -8)):
            Circle(SKETCH3_R_2)
        with Locations((48, 8)):
            Circle(SKETCH3_R_2)
        with Locations((24, 0)):
            Circle(SKETCH3_R_2)
        with Locations((16, -8)):
            Circle(SKETCH3_R_2)
        with Locations((16, 0)):
            Circle(SKETCH3_R)
        with Locations((16, 8)):
            Circle(SKETCH3_R_2)
        with Locations((10.34, 5.66)):
            Circle(SKETCH3_R_2)
        with Locations((10.34, -5.66)):
            Circle(SKETCH3_R_2)
        with Locations((8, 0)):
            Circle(SKETCH3_R_2)
        with Locations((21.66, 5.66)):
            Circle(SKETCH3_R_2)
        with Locations((21.66, -5.66)):
            Circle(SKETCH3_R_2)
        with Locations((112, 0)):
            Circle(SKETCH3_R)
        with Locations((120, 0)):
            Circle(SKETCH3_R_2)
        with Locations((104, 0)):
            Circle(SKETCH3_R_2)
        with Locations((112, -8)):
            Circle(SKETCH3_R_2)
        with Locations((112, 8)):
            Circle(SKETCH3_R_2)
        with Locations((88, 0)):
            Circle(SKETCH3_R_2)
        with Locations((80, -8)):
            Circle(SKETCH3_R_2)
        with Locations((80, 0)):
            Circle(SKETCH3_R)
        with Locations((80, 8)):
            Circle(SKETCH3_R_2)
        with Locations((74.34, 5.66)):
            Circle(SKETCH3_R_2)
        with Locations((74.34, -5.66)):
            Circle(SKETCH3_R_2)
        with Locations((72, 0)):
            Circle(SKETCH3_R_2)
        with Locations((85.66, 5.66)):
            Circle(SKETCH3_R_2)
        with Locations((85.66, -5.66)):
            Circle(SKETCH3_R_2)
        with Locations((136, 0)):
            Circle(SKETCH3_R_2)
        with Locations((144, 8)):
            Circle(SKETCH3_R_2)
        with Locations((144, 0)):
            Circle(SKETCH3_R)
        with Locations((144, -8)):
            Circle(SKETCH3_R_2)
        with Locations((149.66, -5.66)):
            Circle(SKETCH3_R_2)
        with Locations((149.66, 5.66)):
            Circle(SKETCH3_R_2)
        with Locations((152, 0)):
            Circle(SKETCH3_R_2)
        with Locations((138.34, -5.66)):
            Circle(SKETCH3_R_2)
        with Locations((138.34, 5.66)):
            Circle(SKETCH3_R_2)
    extrude(amount=-CUT_EXTRUDE2_DEPTH, mode=Mode.SUBTRACT)

    # Fillet1
    fillet1_edges = [part.edges().sort_by_distance(p)[0] for p in [
        (-15, -16, -160),
        (-16, 16, -80),
        (16, 16, -80),
        (15, -16, -160),
        (15, -16, 0),
        (-15, -16, 0),
    ]]
    fillet(fillet1_edges, radius=FILLET1_R)


solid = part.part
